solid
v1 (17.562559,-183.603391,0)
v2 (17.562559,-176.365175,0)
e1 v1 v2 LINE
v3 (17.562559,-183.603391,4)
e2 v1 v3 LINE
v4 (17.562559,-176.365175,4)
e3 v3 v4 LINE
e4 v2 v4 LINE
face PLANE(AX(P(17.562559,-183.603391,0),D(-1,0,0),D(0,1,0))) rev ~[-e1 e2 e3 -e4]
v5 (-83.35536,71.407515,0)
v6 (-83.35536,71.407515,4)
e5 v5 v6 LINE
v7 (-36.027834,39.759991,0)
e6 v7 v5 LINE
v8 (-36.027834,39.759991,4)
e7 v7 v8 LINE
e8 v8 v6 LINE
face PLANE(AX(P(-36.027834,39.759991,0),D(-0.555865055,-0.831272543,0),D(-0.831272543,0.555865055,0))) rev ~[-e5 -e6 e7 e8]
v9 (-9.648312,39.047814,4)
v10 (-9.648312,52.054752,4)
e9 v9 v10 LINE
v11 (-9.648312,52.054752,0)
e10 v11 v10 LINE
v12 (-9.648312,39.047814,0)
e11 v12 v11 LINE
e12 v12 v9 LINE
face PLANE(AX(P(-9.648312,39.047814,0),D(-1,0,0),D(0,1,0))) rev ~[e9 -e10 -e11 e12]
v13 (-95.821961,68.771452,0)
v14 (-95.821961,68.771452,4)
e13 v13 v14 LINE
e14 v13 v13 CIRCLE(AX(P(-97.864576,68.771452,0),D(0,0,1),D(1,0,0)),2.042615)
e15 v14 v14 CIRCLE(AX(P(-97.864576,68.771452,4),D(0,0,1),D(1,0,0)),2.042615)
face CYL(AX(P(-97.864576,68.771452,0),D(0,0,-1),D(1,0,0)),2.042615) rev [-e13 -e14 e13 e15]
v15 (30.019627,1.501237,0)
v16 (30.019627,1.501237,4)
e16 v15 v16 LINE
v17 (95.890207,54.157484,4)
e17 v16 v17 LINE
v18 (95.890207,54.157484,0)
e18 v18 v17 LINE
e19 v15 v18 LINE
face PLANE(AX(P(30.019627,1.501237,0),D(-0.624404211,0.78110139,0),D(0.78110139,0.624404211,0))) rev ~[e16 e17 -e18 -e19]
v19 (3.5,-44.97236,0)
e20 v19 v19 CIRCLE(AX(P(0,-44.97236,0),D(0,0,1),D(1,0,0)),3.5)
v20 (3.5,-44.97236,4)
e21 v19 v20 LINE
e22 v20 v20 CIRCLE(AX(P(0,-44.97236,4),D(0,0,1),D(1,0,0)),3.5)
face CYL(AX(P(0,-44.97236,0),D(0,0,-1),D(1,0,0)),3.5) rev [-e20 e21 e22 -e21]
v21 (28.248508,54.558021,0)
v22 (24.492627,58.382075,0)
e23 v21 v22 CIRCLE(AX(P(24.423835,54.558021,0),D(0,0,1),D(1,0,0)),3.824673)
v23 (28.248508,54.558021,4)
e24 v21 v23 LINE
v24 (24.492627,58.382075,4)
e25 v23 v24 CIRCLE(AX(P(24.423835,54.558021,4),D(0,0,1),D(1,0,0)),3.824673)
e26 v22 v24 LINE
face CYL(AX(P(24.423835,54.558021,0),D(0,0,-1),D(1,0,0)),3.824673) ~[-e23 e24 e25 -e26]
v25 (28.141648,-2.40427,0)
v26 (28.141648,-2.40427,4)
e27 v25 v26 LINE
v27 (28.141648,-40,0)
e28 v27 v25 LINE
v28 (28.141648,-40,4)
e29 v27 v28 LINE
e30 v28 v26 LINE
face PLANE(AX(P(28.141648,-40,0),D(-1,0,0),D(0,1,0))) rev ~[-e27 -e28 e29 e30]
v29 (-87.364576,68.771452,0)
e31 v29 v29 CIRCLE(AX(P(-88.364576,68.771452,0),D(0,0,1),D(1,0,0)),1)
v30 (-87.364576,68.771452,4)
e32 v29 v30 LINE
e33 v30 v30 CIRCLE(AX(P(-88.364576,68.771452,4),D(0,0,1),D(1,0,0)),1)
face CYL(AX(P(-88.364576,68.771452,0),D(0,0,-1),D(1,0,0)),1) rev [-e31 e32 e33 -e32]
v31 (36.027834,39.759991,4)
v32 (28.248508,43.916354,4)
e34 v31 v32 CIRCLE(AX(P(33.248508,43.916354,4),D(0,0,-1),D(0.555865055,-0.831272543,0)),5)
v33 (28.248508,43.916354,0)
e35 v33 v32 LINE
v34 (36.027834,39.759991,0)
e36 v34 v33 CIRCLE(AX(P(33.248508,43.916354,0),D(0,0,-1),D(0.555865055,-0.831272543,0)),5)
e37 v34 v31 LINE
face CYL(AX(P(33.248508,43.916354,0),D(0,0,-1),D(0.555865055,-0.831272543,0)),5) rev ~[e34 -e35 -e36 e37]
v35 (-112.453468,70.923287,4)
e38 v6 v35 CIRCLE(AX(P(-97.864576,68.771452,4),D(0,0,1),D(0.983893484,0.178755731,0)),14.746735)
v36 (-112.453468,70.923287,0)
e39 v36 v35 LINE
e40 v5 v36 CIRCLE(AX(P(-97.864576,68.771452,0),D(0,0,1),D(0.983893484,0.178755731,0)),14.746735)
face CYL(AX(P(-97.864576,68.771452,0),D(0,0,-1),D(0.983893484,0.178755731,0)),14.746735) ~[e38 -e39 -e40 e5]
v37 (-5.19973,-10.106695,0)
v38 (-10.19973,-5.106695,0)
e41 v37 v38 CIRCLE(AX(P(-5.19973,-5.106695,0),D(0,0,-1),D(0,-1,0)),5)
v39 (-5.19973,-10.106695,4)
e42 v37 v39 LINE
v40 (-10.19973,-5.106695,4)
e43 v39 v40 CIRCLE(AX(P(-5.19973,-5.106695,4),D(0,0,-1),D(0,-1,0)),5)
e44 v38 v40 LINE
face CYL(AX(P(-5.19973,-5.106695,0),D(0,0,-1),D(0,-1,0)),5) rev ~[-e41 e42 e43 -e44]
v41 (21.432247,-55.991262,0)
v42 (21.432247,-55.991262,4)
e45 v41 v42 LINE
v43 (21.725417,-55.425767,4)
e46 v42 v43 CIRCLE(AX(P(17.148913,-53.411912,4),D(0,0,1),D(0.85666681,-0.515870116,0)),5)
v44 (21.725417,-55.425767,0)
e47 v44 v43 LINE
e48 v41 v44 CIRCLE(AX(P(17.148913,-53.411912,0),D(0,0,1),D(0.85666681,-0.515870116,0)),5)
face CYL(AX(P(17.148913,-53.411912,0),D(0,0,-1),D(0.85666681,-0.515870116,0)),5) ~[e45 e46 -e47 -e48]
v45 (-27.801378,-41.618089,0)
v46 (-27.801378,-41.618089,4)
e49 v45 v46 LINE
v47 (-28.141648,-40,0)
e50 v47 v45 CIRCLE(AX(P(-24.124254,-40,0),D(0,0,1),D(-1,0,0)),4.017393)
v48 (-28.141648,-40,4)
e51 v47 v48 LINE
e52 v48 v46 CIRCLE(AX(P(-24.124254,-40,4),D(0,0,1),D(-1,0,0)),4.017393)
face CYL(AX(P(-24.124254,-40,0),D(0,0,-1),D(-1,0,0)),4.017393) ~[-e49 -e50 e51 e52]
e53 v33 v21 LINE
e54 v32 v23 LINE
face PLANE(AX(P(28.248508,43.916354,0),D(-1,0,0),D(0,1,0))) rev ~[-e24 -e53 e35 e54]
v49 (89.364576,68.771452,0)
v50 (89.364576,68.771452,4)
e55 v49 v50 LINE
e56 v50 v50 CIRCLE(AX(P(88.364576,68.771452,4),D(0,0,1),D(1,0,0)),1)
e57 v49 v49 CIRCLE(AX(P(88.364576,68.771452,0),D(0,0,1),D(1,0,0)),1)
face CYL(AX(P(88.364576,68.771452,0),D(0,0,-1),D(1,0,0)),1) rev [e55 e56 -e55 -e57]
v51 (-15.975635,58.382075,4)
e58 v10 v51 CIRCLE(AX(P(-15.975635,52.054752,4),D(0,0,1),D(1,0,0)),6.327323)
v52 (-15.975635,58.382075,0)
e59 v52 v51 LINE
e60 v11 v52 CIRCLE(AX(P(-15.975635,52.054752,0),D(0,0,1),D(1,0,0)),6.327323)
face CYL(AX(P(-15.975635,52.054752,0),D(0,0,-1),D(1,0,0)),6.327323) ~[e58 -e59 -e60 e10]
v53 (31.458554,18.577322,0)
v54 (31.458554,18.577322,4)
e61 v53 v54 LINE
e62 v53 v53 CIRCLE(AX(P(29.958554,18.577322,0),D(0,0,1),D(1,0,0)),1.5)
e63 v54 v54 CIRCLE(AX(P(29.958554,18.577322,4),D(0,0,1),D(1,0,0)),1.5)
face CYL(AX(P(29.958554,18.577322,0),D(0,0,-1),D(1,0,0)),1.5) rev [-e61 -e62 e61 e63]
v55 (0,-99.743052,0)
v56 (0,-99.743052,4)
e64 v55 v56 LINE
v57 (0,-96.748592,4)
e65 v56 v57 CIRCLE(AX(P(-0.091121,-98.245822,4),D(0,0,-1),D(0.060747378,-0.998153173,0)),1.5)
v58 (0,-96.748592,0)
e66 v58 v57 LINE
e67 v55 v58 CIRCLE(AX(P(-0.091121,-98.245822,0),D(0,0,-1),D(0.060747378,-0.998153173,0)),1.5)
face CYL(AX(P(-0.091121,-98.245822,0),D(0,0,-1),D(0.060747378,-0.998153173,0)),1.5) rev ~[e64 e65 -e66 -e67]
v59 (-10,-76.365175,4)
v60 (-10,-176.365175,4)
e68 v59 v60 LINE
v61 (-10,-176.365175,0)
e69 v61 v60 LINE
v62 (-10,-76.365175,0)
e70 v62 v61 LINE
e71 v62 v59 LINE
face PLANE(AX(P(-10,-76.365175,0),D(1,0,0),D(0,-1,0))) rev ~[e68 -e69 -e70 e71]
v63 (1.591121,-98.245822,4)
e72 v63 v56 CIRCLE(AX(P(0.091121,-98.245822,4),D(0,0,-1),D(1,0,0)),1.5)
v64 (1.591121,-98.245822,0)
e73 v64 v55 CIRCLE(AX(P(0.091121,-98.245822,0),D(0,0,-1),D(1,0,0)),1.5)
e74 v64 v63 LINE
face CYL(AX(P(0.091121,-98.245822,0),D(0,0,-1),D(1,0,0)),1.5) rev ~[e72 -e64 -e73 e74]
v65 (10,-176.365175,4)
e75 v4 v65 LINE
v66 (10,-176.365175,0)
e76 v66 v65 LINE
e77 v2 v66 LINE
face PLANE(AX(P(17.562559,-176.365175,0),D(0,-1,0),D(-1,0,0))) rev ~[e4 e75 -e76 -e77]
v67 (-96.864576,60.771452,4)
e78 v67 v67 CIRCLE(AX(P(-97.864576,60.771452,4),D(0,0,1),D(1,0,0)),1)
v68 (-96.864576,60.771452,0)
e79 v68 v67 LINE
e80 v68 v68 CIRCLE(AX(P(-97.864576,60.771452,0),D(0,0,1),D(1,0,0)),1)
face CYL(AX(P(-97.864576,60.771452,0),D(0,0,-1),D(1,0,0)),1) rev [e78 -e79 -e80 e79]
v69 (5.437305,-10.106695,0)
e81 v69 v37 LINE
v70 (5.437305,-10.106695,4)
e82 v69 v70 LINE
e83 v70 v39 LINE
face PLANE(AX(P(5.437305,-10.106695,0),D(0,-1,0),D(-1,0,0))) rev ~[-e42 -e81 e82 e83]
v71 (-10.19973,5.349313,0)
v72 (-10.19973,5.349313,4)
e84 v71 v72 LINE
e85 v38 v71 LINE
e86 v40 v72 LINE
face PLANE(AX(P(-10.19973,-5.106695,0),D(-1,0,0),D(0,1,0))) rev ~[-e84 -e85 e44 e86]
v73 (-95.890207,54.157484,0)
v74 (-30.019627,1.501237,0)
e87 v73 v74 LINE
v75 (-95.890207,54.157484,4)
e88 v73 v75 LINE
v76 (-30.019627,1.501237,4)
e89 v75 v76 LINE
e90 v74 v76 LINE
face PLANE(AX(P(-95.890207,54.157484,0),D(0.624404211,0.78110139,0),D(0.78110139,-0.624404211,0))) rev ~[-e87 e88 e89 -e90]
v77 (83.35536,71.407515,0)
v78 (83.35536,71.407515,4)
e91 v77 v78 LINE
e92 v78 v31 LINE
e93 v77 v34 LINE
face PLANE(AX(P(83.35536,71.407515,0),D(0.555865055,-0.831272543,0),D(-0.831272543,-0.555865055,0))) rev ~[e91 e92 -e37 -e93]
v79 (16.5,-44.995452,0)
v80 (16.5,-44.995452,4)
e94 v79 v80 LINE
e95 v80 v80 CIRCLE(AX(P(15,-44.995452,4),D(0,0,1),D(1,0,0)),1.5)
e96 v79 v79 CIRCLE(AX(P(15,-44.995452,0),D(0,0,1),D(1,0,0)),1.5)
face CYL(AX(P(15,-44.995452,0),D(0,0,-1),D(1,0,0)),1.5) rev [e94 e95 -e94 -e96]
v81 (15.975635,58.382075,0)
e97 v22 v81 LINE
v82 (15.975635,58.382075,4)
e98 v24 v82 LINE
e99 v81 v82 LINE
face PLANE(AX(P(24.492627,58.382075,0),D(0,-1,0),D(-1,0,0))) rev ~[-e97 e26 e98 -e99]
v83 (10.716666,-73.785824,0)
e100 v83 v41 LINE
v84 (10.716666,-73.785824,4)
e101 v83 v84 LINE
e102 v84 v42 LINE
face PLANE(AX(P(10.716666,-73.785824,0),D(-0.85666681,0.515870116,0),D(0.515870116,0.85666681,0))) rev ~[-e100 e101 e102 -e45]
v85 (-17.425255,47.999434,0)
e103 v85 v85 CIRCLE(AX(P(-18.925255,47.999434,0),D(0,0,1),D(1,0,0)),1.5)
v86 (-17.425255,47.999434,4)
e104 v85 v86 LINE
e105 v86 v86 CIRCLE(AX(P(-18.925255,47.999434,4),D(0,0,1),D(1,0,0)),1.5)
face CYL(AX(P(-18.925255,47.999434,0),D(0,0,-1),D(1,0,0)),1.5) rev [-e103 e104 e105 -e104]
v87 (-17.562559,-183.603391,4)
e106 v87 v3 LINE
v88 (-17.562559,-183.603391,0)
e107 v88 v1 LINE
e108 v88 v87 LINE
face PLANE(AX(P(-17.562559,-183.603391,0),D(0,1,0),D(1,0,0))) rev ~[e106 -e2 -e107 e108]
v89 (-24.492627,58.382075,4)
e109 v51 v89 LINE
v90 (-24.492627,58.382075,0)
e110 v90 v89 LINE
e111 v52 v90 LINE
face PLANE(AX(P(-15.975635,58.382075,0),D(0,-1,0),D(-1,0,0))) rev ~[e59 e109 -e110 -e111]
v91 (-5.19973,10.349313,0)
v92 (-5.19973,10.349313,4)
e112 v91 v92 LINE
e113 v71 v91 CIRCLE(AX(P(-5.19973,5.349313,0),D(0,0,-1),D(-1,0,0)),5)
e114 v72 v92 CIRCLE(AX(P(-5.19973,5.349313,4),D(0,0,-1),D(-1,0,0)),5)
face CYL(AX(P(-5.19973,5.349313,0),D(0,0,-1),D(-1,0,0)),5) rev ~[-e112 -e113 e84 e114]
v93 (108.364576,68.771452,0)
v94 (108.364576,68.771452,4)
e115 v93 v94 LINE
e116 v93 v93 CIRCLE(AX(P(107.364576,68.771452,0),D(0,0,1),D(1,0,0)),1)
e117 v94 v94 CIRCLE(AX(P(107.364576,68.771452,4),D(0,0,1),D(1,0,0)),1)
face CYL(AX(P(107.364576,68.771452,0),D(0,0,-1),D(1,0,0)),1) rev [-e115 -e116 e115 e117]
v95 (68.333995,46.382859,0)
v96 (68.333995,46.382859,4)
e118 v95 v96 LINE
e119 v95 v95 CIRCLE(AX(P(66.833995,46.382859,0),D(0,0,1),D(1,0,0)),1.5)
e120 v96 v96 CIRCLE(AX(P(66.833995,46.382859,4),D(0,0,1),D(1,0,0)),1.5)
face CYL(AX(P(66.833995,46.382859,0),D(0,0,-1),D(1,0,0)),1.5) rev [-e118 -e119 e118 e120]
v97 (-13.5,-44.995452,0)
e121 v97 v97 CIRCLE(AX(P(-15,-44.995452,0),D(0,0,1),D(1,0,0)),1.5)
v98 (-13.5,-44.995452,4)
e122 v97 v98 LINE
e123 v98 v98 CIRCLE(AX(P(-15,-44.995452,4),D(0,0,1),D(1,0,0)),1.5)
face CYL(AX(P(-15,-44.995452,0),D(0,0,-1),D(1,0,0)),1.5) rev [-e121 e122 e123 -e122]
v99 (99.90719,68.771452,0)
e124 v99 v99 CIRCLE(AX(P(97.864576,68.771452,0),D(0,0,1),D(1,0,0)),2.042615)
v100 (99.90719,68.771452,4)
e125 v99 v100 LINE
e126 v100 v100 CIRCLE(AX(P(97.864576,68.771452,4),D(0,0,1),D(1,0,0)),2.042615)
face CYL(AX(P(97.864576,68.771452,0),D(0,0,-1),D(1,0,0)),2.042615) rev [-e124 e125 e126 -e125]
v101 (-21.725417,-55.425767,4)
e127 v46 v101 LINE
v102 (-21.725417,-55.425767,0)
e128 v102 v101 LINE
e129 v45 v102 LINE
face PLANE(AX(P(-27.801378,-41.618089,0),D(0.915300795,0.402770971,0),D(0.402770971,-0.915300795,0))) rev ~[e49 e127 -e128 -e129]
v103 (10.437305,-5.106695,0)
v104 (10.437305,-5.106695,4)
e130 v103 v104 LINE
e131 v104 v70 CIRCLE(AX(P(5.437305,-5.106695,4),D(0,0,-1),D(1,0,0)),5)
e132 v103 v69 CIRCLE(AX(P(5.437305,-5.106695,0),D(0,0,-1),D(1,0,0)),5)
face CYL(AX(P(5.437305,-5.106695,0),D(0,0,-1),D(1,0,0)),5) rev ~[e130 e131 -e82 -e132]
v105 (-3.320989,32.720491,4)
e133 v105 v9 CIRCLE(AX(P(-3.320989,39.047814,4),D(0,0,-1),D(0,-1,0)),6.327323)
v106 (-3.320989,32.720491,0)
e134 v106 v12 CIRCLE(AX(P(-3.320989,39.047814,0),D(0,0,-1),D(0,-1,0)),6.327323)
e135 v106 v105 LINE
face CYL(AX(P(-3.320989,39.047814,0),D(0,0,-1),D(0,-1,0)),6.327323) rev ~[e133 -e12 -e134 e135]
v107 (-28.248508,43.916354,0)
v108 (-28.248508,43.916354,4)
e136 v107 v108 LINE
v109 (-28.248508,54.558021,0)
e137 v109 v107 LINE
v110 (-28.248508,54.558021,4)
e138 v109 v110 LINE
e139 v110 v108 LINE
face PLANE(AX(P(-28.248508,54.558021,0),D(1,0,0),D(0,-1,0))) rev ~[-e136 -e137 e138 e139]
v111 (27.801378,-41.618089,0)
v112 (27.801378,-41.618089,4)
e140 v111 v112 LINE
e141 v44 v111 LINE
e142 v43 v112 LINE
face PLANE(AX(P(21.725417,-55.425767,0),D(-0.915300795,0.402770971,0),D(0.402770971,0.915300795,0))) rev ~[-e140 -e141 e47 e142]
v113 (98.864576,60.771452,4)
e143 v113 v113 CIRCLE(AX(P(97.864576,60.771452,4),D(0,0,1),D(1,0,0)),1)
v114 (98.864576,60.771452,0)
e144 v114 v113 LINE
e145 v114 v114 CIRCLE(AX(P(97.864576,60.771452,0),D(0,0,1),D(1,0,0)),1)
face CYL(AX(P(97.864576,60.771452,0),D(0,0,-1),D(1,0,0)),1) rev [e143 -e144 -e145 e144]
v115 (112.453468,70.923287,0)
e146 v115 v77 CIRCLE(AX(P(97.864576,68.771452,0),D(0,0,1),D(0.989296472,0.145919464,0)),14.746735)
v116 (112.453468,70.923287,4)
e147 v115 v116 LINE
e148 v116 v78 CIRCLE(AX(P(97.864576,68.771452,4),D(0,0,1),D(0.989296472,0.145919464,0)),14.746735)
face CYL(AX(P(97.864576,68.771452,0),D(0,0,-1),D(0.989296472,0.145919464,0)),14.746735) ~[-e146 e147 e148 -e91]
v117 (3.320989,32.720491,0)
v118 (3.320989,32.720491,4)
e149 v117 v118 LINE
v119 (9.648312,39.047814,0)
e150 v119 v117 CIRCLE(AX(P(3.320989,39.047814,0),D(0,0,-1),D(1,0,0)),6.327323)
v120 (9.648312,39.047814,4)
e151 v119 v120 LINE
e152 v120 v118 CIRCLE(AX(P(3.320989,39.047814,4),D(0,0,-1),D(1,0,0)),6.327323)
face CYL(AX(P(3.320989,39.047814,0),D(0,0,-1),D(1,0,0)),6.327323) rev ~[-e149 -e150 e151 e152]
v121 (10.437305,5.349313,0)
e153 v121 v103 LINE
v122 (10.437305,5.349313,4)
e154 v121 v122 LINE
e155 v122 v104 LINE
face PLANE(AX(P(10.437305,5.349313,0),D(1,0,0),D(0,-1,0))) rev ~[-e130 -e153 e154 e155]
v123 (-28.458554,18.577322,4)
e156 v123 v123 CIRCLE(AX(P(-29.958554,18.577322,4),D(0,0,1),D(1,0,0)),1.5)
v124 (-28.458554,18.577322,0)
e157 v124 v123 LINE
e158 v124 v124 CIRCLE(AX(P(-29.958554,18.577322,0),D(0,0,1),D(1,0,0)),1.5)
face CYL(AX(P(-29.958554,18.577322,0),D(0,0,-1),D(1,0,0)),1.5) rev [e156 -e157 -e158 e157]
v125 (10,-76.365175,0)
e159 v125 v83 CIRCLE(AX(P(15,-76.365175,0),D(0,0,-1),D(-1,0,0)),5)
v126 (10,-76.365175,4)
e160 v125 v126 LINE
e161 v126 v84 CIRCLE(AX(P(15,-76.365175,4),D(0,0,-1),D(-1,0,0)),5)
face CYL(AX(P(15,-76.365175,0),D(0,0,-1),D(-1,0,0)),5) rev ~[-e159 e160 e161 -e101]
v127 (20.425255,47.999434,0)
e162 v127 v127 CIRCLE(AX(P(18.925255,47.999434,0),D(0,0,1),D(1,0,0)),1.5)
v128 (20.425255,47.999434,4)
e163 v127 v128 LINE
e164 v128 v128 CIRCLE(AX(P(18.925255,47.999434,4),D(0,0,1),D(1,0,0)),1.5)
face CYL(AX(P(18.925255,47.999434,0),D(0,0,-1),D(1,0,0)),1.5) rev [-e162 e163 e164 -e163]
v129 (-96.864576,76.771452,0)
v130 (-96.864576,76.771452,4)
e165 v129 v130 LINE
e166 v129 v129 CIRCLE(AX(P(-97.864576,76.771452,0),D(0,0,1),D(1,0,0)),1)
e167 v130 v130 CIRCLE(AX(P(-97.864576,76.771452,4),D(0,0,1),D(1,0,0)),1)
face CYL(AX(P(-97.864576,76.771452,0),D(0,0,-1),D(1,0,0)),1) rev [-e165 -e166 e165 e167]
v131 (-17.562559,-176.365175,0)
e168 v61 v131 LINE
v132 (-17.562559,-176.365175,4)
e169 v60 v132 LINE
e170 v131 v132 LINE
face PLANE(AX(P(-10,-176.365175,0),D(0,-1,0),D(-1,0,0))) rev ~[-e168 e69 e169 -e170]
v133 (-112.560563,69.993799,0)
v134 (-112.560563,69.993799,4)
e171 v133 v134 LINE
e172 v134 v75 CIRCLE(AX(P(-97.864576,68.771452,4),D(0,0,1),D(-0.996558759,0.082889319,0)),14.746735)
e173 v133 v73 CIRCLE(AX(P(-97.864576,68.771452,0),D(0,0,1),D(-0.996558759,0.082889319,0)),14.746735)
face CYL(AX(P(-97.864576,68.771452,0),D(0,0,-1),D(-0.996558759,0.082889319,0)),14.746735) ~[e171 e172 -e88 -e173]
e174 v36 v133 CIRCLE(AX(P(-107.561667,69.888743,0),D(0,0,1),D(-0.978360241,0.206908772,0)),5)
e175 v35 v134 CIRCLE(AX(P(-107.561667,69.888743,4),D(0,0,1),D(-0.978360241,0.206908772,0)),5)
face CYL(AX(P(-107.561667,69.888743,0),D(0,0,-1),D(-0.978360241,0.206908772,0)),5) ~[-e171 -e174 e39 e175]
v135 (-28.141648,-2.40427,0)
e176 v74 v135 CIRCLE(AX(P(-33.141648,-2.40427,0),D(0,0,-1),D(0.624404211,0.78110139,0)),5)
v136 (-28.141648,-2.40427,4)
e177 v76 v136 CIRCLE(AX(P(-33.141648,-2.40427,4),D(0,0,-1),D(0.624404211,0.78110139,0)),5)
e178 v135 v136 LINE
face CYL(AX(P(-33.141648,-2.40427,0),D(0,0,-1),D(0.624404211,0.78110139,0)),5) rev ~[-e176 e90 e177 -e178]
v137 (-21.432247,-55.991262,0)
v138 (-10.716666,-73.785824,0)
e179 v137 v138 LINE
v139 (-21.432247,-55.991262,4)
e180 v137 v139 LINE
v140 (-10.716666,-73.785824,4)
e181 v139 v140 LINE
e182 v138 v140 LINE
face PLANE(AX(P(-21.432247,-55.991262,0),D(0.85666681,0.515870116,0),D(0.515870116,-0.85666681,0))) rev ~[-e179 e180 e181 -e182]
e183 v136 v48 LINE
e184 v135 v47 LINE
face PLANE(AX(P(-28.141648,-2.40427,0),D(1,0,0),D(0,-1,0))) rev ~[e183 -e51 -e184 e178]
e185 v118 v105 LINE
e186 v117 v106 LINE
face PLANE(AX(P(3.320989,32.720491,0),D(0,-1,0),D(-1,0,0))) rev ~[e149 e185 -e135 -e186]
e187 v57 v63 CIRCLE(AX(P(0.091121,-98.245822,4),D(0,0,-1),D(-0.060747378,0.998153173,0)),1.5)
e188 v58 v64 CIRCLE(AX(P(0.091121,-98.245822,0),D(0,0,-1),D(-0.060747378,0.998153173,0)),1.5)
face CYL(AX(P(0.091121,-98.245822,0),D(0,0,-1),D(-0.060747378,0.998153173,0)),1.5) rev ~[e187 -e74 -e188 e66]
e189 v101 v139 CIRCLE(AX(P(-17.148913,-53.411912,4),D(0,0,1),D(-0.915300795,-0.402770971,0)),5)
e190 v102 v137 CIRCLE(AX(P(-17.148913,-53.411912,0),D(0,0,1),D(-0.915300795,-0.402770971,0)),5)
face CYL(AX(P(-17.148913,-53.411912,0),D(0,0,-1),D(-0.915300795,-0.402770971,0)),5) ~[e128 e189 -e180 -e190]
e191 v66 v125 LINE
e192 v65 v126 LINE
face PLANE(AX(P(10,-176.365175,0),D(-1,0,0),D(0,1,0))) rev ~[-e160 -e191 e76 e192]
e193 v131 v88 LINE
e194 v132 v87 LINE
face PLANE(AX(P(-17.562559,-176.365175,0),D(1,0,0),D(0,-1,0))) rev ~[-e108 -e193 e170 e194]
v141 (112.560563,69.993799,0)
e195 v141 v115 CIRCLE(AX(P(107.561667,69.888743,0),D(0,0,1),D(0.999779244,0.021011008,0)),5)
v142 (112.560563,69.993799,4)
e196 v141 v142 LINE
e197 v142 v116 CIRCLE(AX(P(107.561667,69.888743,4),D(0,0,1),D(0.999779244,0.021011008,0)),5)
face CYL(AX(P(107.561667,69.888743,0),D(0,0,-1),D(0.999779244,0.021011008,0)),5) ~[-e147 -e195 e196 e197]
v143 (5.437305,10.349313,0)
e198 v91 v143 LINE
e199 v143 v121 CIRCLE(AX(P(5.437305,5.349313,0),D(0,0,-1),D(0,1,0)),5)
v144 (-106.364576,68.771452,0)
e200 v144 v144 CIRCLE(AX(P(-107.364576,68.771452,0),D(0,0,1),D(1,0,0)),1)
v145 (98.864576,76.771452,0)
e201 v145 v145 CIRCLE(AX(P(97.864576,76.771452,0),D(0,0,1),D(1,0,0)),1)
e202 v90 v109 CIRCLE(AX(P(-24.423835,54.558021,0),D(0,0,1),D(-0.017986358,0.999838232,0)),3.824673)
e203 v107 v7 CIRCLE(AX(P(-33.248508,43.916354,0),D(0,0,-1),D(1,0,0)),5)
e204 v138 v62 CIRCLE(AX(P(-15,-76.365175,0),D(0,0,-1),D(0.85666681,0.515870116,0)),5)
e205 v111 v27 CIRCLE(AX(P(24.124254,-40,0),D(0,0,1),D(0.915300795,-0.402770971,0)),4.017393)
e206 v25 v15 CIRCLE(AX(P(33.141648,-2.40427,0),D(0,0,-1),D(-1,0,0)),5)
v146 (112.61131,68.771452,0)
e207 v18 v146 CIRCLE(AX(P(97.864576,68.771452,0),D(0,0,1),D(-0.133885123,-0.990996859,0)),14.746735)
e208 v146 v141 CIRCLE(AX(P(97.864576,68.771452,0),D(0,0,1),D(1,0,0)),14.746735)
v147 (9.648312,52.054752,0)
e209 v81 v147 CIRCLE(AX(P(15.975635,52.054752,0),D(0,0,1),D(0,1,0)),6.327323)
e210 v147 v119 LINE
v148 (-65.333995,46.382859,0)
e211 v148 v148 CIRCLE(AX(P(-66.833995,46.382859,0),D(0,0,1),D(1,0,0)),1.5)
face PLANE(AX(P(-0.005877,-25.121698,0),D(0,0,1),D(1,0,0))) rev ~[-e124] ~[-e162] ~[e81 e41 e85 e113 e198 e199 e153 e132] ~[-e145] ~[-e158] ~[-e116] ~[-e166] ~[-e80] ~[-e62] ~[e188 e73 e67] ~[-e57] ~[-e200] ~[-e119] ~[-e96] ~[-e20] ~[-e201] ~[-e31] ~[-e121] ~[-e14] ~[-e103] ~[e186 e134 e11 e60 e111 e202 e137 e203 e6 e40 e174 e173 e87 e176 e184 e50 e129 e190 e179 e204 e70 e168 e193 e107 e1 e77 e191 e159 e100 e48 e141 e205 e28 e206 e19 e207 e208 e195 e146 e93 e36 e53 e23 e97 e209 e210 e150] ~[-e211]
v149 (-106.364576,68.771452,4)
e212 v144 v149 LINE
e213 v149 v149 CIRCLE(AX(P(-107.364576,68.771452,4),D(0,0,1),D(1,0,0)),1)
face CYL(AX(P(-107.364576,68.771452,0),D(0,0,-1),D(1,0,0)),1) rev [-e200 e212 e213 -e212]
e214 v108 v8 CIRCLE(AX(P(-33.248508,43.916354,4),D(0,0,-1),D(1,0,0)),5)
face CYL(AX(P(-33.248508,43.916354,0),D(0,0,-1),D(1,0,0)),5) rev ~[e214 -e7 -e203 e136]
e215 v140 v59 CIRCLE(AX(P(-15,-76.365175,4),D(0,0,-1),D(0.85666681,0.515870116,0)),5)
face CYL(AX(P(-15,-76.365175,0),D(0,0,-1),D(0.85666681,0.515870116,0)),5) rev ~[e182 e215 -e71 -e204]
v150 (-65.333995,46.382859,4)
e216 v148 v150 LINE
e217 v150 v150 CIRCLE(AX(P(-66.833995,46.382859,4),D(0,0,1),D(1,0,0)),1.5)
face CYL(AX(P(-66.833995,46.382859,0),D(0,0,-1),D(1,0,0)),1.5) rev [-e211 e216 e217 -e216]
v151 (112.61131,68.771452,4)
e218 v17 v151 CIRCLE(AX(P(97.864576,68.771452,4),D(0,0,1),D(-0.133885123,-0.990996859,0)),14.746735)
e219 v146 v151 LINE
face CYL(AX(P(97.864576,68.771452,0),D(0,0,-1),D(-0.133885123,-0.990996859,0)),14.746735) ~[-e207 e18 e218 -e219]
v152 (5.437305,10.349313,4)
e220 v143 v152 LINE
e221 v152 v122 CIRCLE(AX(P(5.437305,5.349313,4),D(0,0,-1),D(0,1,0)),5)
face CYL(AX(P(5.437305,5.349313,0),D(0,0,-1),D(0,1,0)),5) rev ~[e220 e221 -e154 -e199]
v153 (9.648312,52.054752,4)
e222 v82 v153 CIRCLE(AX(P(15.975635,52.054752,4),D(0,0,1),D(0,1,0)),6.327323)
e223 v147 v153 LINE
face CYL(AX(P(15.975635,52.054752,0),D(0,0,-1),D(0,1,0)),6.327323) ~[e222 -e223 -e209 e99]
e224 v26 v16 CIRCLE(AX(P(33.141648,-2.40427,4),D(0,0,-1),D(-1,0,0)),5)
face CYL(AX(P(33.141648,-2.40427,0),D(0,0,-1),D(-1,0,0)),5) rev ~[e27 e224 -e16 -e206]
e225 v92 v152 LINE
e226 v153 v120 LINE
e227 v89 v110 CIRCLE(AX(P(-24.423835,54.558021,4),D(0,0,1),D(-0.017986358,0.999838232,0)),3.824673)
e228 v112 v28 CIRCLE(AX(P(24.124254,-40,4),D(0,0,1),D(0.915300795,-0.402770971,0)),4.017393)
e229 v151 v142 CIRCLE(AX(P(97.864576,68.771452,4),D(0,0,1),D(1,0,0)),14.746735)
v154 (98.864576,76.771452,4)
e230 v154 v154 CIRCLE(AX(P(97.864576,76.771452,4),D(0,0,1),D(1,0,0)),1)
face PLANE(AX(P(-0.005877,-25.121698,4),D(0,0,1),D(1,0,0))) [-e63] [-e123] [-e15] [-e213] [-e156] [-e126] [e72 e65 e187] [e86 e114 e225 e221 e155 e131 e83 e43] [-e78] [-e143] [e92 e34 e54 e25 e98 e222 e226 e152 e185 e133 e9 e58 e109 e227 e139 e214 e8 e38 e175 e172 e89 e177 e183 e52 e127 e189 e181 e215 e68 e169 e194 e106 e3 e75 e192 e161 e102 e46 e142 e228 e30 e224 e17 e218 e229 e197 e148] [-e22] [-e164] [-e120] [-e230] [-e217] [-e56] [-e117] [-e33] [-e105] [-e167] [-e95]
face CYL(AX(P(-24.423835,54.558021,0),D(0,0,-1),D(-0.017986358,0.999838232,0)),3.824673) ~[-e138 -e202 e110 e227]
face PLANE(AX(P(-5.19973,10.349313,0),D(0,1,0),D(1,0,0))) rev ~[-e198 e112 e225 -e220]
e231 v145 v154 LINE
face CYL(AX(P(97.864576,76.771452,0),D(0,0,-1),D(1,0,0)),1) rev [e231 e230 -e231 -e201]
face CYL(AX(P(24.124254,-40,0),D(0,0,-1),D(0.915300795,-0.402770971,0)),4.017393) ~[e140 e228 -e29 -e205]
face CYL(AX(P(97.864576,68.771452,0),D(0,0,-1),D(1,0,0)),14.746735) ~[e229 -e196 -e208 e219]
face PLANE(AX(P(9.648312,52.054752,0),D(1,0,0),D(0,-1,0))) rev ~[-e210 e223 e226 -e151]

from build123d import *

# Parameters (mm, degrees)
F0_R     = 1.5
F0_R_2   = 3.5
F0_R_3   = 1
F0_R_4   = 2.0426148112
F1_DEPTH = 4


with BuildPart() as f1:
    # F0 (on Top) → F1 (new body)
    with BuildSketch(Plane.XY):
        with BuildLine():
            Line((28.2485083335, 43.9163537211), (28.2485083335, 54.5580207216))
            ThreePointArc((28.2485083335, 54.5580207216), (27.1525007025, 57.2380411405), (24.4926270097, 58.38207528))
            Line((24.4926270097, 58.38207528), (15.9756345674, 58.38207528))
            ThreePointArc((15.9756345674, 58.38207528), (11.5015417116, 56.5288453398), (9.6483117715, 52.054752484))
            Line((9.6483117715, 52.054752484), (9.6483117715, 39.0478140861))
            ThreePointArc((9.6483117715, 39.0478140861), (7.7950818313, 34.5737212303), (3.3209889755, 32.7204912901))
            Line((3.3209889755, 32.7204912901), (0, 32.7204912901))
            Line((0, 32.7204912901), (-3.3209889755, 32.7204912901))
            ThreePointArc((-3.3209889755, 32.7204912901), (-7.7950818313, 34.5737212303), (-9.6483117715, 39.0478140861))
            Line((-9.6483117715, 39.0478140861), (-9.6483117715, 52.054752484))
            ThreePointArc((-9.6483117715, 52.054752484), (-11.5015417116, 56.5288453398), (-15.9756345674, 58.38207528))
            Line((-15.9756345674, 58.38207528), (-24.4926270097, 58.38207528))
            ThreePointArc((-24.4926270097, 58.38207528), (-27.1525007025, 57.2380411405), (-28.2485083335, 54.5580207216))
            Line((-28.2485083335, 54.5580207216), (-28.2485083335, 43.9163537211))
            ThreePointArc((-28.2485083335, 43.9163537211), (-30.8923065557, 39.5063295508), (-36.0278336063, 39.759991005))
            Line((-36.0278336063, 39.759991005), (-83.3553595539, 71.4075150422))
            ThreePointArc((-83.3553595539, 71.4075150422), (-83.1773407039, 70.0948228733), (-83.1178410423, 68.7714517117))
            ThreePointArc((-83.1178410423, 68.7714517117), (-86.7609350808, 59.0670533301), (-95.8902072963, 54.1574840073))
            Line((-95.8902072963, 54.1574840073), (-30.0196265199, 1.5012365572))
            ThreePointArc((-30.0196265199, 1.5012365572), (-28.6355347687, -0.2374876701), (-28.1416475773, -2.4042703903))
            Line((-28.1416475773, -2.4042703903), (-28.1416475773, -40))
            ThreePointArc((-28.1416475773, -40), (-28.0556598352, -40.8267401557), (-27.8013775488, -41.6180894438))
            Line((-27.8013775488, -41.6180894438), (-21.7254169173, -55.4257667582))
            ThreePointArc((-21.7254169173, -55.4257667582), (-21.5878462389, -55.7131878969), (-21.4322469923, -55.9912624857))
            Line((-21.4322469923, -55.9912624857), (-10.7166659506, -73.7858242134))
            ThreePointArc((-10.7166659506, -73.7858242134), (-10.1824970033, -75.0266439297), (-10, -76.3651747946))
            Line((-10, -76.3651747946), (-10, -176.3651747946))
            Line((-10, -176.3651747946), (-17.5625588745, -176.3651747946))
            Line((-17.5625588745, -176.3651747946), (-17.5625588745, -183.6033910513))
            Line((-17.5625588745, -183.6033910513), (0, -183.6033910513))
            Line((0, -183.6033910513), (17.5625588745, -183.6033910513))
            Line((17.5625588745, -183.6033910513), (17.5625588745, -176.3651747946))
            Line((17.5625588745, -176.3651747946), (10, -176.3651747946))
            Line((10, -176.3651747946), (10, -76.3651747946))
            ThreePointArc((10, -76.3651747946), (10.1824970033, -75.0266439297), (10.7166659506, -73.7858242134))
            Line((10.7166659506, -73.7858242134), (21.4322469923, -55.9912624857))
            ThreePointArc((21.4322469923, -55.9912624857), (21.5878462389, -55.7131878969), (21.7254169173, -55.4257667582))
            Line((21.7254169173, -55.4257667582), (27.8013775488, -41.6180894438))
            ThreePointArc((27.8013775488, -41.6180894438), (28.0556598352, -40.8267401557), (28.1416475773, -40))
            Line((28.1416475773, -40), (28.1416475773, -2.4042703903))
            ThreePointArc((28.1416475773, -2.4042703903), (28.6355347687, -0.2374876701), (30.0196265199, 1.5012365572))
            Line((30.0196265199, 1.5012365572), (95.8902072963, 54.1574840073))
            ThreePointArc((95.8902072963, 54.1574840073), (85.9348635201, 60.1026484333), (83.3553595539, 71.4075150422))
            Line((83.3553595539, 71.4075150422), (36.0278336063, 39.759991005))
            ThreePointArc((36.0278336063, 39.759991005), (30.8923065557, 39.5063295508), (28.2485083335, 43.9163537211))
        make_face()
        with BuildLine():
            ThreePointArc((0, -96.7485921342), (1.1190603643, -97.1534205019), (1.5911210664, -98.2458218932))
            ThreePointArc((1.5911210664, -98.2458218932), (1.1190603643, -99.3382232845), (0, -99.7430516522))
            ThreePointArc((0, -99.7430516522), (-1.5911210664, -98.2458218932), (0, -96.7485921342))
        make_face(mode=Mode.SUBTRACT)
        with Locations((-15, -44.9954515789)):
            Circle(F0_R, mode=Mode.SUBTRACT)
        with Locations((-66.8339952826, 46.3828593493)):
            Circle(F0_R, mode=Mode.SUBTRACT)
        with Locations((-29.9585536122, 18.5773223639)):
            Circle(F0_R, mode=Mode.SUBTRACT)
        with Locations((-18.9252551645, 47.9994341731)):
            Circle(F0_R, mode=Mode.SUBTRACT)
        with Locations((0, -44.9723601341)):
            Circle(F0_R_2, mode=Mode.SUBTRACT)
        with Locations((15, -44.9954515789)):
            Circle(F0_R, mode=Mode.SUBTRACT)
        with BuildLine():
            ThreePointArc((-10.1997302845, 5.3493127972), (-8.7352641904, 8.8848467031), (-5.1997302845, 10.3493127972))
            Line((-5.1997302845, 10.3493127972), (5.4373050854, 10.3493127972))
            ThreePointArc((5.4373050854, 10.3493127972), (8.9728389913, 8.8848467031), (10.4373050854, 5.3493127972))
            Line((10.4373050854, 5.3493127972), (10.4373050854, -5.1066948846))
            ThreePointArc((10.4373050854, -5.1066948846), (8.9728389913, -8.6422287905), (5.4373050854, -10.1066948846))
            Line((5.4373050854, -10.1066948846), (-5.1997302845, -10.1066948846))
            ThreePointArc((-5.1997302845, -10.1066948846), (-8.7352641904, -8.6422287905), (-10.1997302845, -5.1066948846))
            Line((-10.1997302845, -5.1066948846), (-10.1997302845, 5.3493127972))
        make_face(mode=Mode.SUBTRACT)
        with Locations((18.9252551645, 47.9994341731)):
            Circle(F0_R, mode=Mode.SUBTRACT)
        with Locations((29.9585536122, 18.5773223639)):
            Circle(F0_R, mode=Mode.SUBTRACT)
        with Locations((66.8339952826, 46.3828593493)):
            Circle(F0_R, mode=Mode.SUBTRACT)
        with BuildLine():
            ThreePointArc((112.4534682434, 70.9232873205), (98.1099452114, 83.5161448719), (83.3553595539, 71.4075150422))
            Line((83.3553595539, 71.4075150422), (98.6924420624, 81.6632949003))
            ThreePointArc((98.6924420624, 81.6632949003), (102.2363175022, 82.4481327511), (105.3772742827, 80.6289532416))
            Line((105.3772742827, 80.6289532416), (111.4671739885, 73.0107645192))
            ThreePointArc((111.4671739885, 73.0107645192), (112.0824576726, 72.0247331774), (112.4534682434, 70.9232873205))
        make_face()
        with BuildLine():
            Line((98.6924420624, 81.6632949003), (83.3553595539, 71.4075150422))
            ThreePointArc((83.3553595539, 71.4075150422), (85.9348635201, 60.1026484333), (95.8902072963, 54.1574840073))
            Line((95.8902072963, 54.1574840073), (110.6836880983, 65.9832365143))
            ThreePointArc((110.6836880983, 65.9832365143), (112.0902955562, 67.7694219265), (112.5605632629, 69.9937985024))
            ThreePointArc((112.5605632629, 69.9937985024), (112.514389285, 70.4593924844), (112.4534682434, 70.9232873205))
            ThreePointArc((112.4534682434, 70.9232873205), (112.0824576726, 72.0247331774), (111.4671739885, 73.0107645192))
            Line((111.4671739885, 73.0107645192), (105.3772742827, 80.6289532416))
            ThreePointArc((105.3772742827, 80.6289532416), (102.2363175022, 82.4481327511), (98.6924420624, 81.6632949003))
        make_face()
        with Locations((97.8645756841, 60.7714517117)):
            Circle(F0_R_3, mode=Mode.SUBTRACT)
        with Locations((88.3645756841, 68.7714517117)):
            Circle(F0_R_3, mode=Mode.SUBTRACT)
        with Locations((97.8645756841, 68.7714517117)):
            Circle(F0_R_4, mode=Mode.SUBTRACT)
        with Locations((97.8645756841, 76.7714517117)):
            Circle(F0_R_3, mode=Mode.SUBTRACT)
        with Locations((107.3645756841, 68.7714517117)):
            Circle(F0_R_3, mode=Mode.SUBTRACT)
        with BuildLine():
            ThreePointArc((112.5605632629, 69.9937985024), (112.5288051758, 70.4610534728), (112.4534682434, 70.9232873205))
            ThreePointArc((112.4534682434, 70.9232873205), (112.514389285, 70.4593924844), (112.5605632629, 69.9937985024))
        make_face()
        with BuildLine():
            Line((110.6836880983, 65.9832365143), (95.8902072963, 54.1574840073))
            ThreePointArc((95.8902072963, 54.1574840073), (107.5689740656, 57.6678111084), (112.6113103258, 68.7714517117))
            ThreePointArc((112.6113103258, 68.7714517117), (112.5986180981, 69.3831515852), (112.5605632629, 69.9937985024))
            ThreePointArc((112.5605632629, 69.9937985024), (112.0902955562, 67.7694219265), (110.6836880983, 65.9832365143))
        make_face()
        with BuildLine():
            ThreePointArc((-83.1178410423, 68.7714517117), (-83.1773407039, 70.0948228733), (-83.3553595539, 71.4075150422))
            Line((-83.3553595539, 71.4075150422), (-98.6924420624, 81.6632949003))
            ThreePointArc((-98.6924420624, 81.6632949003), (-102.2363175022, 82.4481327511), (-105.3772742827, 80.6289532416))
            Line((-105.3772742827, 80.6289532416), (-111.4671739885, 73.0107645192))
            ThreePointArc((-111.4671739885, 73.0107645192), (-112.0824576726, 72.0247331774), (-112.4534682434, 70.9232873205))
            ThreePointArc((-112.4534682434, 70.9232873205), (-112.514389285, 70.4593924844), (-112.5605632629, 69.9937985024))
            ThreePointArc((-112.5605632629, 69.9937985024), (-112.0902955562, 67.7694219265), (-110.6836880983, 65.9832365143))
            Line((-110.6836880983, 65.9832365143), (-95.8902072963, 54.1574840073))
            ThreePointArc((-95.8902072963, 54.1574840073), (-86.7609350808, 59.0670533301), (-83.1178410423, 68.7714517117))
        make_face()
        with Locations((-97.8645756841, 60.7714517117)):
            Circle(F0_R_3, mode=Mode.SUBTRACT)
        with Locations((-107.3645756841, 68.7714517117)):
            Circle(F0_R_3, mode=Mode.SUBTRACT)
        with Locations((-97.8645756841, 68.7714517117)):
            Circle(F0_R_4, mode=Mode.SUBTRACT)
        with Locations((-88.3645756841, 68.7714517117)):
            Circle(F0_R_3, mode=Mode.SUBTRACT)
        with Locations((-97.8645756841, 76.7714517117)):
            Circle(F0_R_3, mode=Mode.SUBTRACT)
        with BuildLine():
            Line((-98.6924420624, 81.6632949003), (-83.3553595539, 71.4075150422))
            ThreePointArc((-83.3553595539, 71.4075150422), (-98.1099452114, 83.5161448719), (-112.4534682434, 70.9232873205))
            ThreePointArc((-112.4534682434, 70.9232873205), (-112.0824576726, 72.0247331774), (-111.4671739885, 73.0107645192))
            Line((-111.4671739885, 73.0107645192), (-105.3772742827, 80.6289532416))
            ThreePointArc((-105.3772742827, 80.6289532416), (-102.2363175022, 82.4481327511), (-98.6924420624, 81.6632949003))
        make_face()
        with BuildLine():
            ThreePointArc((-112.5605632629, 69.9937985024), (-112.514389285, 70.4593924844), (-112.4534682434, 70.9232873205))
            ThreePointArc((-112.4534682434, 70.9232873205), (-112.5288051758, 70.4610534728), (-112.5605632629, 69.9937985024))
        make_face()
        with BuildLine():
            ThreePointArc((-112.5605632629, 69.9937985024), (-108.0212046971, 58.0799097421), (-95.8902072963, 54.1574840073))
            Line((-95.8902072963, 54.1574840073), (-110.6836880983, 65.9832365143))
            ThreePointArc((-110.6836880983, 65.9832365143), (-112.0902955562, 67.7694219265), (-112.5605632629, 69.9937985024))
        make_face()
    extrude(amount=F1_DEPTH)


solid = f1.part
